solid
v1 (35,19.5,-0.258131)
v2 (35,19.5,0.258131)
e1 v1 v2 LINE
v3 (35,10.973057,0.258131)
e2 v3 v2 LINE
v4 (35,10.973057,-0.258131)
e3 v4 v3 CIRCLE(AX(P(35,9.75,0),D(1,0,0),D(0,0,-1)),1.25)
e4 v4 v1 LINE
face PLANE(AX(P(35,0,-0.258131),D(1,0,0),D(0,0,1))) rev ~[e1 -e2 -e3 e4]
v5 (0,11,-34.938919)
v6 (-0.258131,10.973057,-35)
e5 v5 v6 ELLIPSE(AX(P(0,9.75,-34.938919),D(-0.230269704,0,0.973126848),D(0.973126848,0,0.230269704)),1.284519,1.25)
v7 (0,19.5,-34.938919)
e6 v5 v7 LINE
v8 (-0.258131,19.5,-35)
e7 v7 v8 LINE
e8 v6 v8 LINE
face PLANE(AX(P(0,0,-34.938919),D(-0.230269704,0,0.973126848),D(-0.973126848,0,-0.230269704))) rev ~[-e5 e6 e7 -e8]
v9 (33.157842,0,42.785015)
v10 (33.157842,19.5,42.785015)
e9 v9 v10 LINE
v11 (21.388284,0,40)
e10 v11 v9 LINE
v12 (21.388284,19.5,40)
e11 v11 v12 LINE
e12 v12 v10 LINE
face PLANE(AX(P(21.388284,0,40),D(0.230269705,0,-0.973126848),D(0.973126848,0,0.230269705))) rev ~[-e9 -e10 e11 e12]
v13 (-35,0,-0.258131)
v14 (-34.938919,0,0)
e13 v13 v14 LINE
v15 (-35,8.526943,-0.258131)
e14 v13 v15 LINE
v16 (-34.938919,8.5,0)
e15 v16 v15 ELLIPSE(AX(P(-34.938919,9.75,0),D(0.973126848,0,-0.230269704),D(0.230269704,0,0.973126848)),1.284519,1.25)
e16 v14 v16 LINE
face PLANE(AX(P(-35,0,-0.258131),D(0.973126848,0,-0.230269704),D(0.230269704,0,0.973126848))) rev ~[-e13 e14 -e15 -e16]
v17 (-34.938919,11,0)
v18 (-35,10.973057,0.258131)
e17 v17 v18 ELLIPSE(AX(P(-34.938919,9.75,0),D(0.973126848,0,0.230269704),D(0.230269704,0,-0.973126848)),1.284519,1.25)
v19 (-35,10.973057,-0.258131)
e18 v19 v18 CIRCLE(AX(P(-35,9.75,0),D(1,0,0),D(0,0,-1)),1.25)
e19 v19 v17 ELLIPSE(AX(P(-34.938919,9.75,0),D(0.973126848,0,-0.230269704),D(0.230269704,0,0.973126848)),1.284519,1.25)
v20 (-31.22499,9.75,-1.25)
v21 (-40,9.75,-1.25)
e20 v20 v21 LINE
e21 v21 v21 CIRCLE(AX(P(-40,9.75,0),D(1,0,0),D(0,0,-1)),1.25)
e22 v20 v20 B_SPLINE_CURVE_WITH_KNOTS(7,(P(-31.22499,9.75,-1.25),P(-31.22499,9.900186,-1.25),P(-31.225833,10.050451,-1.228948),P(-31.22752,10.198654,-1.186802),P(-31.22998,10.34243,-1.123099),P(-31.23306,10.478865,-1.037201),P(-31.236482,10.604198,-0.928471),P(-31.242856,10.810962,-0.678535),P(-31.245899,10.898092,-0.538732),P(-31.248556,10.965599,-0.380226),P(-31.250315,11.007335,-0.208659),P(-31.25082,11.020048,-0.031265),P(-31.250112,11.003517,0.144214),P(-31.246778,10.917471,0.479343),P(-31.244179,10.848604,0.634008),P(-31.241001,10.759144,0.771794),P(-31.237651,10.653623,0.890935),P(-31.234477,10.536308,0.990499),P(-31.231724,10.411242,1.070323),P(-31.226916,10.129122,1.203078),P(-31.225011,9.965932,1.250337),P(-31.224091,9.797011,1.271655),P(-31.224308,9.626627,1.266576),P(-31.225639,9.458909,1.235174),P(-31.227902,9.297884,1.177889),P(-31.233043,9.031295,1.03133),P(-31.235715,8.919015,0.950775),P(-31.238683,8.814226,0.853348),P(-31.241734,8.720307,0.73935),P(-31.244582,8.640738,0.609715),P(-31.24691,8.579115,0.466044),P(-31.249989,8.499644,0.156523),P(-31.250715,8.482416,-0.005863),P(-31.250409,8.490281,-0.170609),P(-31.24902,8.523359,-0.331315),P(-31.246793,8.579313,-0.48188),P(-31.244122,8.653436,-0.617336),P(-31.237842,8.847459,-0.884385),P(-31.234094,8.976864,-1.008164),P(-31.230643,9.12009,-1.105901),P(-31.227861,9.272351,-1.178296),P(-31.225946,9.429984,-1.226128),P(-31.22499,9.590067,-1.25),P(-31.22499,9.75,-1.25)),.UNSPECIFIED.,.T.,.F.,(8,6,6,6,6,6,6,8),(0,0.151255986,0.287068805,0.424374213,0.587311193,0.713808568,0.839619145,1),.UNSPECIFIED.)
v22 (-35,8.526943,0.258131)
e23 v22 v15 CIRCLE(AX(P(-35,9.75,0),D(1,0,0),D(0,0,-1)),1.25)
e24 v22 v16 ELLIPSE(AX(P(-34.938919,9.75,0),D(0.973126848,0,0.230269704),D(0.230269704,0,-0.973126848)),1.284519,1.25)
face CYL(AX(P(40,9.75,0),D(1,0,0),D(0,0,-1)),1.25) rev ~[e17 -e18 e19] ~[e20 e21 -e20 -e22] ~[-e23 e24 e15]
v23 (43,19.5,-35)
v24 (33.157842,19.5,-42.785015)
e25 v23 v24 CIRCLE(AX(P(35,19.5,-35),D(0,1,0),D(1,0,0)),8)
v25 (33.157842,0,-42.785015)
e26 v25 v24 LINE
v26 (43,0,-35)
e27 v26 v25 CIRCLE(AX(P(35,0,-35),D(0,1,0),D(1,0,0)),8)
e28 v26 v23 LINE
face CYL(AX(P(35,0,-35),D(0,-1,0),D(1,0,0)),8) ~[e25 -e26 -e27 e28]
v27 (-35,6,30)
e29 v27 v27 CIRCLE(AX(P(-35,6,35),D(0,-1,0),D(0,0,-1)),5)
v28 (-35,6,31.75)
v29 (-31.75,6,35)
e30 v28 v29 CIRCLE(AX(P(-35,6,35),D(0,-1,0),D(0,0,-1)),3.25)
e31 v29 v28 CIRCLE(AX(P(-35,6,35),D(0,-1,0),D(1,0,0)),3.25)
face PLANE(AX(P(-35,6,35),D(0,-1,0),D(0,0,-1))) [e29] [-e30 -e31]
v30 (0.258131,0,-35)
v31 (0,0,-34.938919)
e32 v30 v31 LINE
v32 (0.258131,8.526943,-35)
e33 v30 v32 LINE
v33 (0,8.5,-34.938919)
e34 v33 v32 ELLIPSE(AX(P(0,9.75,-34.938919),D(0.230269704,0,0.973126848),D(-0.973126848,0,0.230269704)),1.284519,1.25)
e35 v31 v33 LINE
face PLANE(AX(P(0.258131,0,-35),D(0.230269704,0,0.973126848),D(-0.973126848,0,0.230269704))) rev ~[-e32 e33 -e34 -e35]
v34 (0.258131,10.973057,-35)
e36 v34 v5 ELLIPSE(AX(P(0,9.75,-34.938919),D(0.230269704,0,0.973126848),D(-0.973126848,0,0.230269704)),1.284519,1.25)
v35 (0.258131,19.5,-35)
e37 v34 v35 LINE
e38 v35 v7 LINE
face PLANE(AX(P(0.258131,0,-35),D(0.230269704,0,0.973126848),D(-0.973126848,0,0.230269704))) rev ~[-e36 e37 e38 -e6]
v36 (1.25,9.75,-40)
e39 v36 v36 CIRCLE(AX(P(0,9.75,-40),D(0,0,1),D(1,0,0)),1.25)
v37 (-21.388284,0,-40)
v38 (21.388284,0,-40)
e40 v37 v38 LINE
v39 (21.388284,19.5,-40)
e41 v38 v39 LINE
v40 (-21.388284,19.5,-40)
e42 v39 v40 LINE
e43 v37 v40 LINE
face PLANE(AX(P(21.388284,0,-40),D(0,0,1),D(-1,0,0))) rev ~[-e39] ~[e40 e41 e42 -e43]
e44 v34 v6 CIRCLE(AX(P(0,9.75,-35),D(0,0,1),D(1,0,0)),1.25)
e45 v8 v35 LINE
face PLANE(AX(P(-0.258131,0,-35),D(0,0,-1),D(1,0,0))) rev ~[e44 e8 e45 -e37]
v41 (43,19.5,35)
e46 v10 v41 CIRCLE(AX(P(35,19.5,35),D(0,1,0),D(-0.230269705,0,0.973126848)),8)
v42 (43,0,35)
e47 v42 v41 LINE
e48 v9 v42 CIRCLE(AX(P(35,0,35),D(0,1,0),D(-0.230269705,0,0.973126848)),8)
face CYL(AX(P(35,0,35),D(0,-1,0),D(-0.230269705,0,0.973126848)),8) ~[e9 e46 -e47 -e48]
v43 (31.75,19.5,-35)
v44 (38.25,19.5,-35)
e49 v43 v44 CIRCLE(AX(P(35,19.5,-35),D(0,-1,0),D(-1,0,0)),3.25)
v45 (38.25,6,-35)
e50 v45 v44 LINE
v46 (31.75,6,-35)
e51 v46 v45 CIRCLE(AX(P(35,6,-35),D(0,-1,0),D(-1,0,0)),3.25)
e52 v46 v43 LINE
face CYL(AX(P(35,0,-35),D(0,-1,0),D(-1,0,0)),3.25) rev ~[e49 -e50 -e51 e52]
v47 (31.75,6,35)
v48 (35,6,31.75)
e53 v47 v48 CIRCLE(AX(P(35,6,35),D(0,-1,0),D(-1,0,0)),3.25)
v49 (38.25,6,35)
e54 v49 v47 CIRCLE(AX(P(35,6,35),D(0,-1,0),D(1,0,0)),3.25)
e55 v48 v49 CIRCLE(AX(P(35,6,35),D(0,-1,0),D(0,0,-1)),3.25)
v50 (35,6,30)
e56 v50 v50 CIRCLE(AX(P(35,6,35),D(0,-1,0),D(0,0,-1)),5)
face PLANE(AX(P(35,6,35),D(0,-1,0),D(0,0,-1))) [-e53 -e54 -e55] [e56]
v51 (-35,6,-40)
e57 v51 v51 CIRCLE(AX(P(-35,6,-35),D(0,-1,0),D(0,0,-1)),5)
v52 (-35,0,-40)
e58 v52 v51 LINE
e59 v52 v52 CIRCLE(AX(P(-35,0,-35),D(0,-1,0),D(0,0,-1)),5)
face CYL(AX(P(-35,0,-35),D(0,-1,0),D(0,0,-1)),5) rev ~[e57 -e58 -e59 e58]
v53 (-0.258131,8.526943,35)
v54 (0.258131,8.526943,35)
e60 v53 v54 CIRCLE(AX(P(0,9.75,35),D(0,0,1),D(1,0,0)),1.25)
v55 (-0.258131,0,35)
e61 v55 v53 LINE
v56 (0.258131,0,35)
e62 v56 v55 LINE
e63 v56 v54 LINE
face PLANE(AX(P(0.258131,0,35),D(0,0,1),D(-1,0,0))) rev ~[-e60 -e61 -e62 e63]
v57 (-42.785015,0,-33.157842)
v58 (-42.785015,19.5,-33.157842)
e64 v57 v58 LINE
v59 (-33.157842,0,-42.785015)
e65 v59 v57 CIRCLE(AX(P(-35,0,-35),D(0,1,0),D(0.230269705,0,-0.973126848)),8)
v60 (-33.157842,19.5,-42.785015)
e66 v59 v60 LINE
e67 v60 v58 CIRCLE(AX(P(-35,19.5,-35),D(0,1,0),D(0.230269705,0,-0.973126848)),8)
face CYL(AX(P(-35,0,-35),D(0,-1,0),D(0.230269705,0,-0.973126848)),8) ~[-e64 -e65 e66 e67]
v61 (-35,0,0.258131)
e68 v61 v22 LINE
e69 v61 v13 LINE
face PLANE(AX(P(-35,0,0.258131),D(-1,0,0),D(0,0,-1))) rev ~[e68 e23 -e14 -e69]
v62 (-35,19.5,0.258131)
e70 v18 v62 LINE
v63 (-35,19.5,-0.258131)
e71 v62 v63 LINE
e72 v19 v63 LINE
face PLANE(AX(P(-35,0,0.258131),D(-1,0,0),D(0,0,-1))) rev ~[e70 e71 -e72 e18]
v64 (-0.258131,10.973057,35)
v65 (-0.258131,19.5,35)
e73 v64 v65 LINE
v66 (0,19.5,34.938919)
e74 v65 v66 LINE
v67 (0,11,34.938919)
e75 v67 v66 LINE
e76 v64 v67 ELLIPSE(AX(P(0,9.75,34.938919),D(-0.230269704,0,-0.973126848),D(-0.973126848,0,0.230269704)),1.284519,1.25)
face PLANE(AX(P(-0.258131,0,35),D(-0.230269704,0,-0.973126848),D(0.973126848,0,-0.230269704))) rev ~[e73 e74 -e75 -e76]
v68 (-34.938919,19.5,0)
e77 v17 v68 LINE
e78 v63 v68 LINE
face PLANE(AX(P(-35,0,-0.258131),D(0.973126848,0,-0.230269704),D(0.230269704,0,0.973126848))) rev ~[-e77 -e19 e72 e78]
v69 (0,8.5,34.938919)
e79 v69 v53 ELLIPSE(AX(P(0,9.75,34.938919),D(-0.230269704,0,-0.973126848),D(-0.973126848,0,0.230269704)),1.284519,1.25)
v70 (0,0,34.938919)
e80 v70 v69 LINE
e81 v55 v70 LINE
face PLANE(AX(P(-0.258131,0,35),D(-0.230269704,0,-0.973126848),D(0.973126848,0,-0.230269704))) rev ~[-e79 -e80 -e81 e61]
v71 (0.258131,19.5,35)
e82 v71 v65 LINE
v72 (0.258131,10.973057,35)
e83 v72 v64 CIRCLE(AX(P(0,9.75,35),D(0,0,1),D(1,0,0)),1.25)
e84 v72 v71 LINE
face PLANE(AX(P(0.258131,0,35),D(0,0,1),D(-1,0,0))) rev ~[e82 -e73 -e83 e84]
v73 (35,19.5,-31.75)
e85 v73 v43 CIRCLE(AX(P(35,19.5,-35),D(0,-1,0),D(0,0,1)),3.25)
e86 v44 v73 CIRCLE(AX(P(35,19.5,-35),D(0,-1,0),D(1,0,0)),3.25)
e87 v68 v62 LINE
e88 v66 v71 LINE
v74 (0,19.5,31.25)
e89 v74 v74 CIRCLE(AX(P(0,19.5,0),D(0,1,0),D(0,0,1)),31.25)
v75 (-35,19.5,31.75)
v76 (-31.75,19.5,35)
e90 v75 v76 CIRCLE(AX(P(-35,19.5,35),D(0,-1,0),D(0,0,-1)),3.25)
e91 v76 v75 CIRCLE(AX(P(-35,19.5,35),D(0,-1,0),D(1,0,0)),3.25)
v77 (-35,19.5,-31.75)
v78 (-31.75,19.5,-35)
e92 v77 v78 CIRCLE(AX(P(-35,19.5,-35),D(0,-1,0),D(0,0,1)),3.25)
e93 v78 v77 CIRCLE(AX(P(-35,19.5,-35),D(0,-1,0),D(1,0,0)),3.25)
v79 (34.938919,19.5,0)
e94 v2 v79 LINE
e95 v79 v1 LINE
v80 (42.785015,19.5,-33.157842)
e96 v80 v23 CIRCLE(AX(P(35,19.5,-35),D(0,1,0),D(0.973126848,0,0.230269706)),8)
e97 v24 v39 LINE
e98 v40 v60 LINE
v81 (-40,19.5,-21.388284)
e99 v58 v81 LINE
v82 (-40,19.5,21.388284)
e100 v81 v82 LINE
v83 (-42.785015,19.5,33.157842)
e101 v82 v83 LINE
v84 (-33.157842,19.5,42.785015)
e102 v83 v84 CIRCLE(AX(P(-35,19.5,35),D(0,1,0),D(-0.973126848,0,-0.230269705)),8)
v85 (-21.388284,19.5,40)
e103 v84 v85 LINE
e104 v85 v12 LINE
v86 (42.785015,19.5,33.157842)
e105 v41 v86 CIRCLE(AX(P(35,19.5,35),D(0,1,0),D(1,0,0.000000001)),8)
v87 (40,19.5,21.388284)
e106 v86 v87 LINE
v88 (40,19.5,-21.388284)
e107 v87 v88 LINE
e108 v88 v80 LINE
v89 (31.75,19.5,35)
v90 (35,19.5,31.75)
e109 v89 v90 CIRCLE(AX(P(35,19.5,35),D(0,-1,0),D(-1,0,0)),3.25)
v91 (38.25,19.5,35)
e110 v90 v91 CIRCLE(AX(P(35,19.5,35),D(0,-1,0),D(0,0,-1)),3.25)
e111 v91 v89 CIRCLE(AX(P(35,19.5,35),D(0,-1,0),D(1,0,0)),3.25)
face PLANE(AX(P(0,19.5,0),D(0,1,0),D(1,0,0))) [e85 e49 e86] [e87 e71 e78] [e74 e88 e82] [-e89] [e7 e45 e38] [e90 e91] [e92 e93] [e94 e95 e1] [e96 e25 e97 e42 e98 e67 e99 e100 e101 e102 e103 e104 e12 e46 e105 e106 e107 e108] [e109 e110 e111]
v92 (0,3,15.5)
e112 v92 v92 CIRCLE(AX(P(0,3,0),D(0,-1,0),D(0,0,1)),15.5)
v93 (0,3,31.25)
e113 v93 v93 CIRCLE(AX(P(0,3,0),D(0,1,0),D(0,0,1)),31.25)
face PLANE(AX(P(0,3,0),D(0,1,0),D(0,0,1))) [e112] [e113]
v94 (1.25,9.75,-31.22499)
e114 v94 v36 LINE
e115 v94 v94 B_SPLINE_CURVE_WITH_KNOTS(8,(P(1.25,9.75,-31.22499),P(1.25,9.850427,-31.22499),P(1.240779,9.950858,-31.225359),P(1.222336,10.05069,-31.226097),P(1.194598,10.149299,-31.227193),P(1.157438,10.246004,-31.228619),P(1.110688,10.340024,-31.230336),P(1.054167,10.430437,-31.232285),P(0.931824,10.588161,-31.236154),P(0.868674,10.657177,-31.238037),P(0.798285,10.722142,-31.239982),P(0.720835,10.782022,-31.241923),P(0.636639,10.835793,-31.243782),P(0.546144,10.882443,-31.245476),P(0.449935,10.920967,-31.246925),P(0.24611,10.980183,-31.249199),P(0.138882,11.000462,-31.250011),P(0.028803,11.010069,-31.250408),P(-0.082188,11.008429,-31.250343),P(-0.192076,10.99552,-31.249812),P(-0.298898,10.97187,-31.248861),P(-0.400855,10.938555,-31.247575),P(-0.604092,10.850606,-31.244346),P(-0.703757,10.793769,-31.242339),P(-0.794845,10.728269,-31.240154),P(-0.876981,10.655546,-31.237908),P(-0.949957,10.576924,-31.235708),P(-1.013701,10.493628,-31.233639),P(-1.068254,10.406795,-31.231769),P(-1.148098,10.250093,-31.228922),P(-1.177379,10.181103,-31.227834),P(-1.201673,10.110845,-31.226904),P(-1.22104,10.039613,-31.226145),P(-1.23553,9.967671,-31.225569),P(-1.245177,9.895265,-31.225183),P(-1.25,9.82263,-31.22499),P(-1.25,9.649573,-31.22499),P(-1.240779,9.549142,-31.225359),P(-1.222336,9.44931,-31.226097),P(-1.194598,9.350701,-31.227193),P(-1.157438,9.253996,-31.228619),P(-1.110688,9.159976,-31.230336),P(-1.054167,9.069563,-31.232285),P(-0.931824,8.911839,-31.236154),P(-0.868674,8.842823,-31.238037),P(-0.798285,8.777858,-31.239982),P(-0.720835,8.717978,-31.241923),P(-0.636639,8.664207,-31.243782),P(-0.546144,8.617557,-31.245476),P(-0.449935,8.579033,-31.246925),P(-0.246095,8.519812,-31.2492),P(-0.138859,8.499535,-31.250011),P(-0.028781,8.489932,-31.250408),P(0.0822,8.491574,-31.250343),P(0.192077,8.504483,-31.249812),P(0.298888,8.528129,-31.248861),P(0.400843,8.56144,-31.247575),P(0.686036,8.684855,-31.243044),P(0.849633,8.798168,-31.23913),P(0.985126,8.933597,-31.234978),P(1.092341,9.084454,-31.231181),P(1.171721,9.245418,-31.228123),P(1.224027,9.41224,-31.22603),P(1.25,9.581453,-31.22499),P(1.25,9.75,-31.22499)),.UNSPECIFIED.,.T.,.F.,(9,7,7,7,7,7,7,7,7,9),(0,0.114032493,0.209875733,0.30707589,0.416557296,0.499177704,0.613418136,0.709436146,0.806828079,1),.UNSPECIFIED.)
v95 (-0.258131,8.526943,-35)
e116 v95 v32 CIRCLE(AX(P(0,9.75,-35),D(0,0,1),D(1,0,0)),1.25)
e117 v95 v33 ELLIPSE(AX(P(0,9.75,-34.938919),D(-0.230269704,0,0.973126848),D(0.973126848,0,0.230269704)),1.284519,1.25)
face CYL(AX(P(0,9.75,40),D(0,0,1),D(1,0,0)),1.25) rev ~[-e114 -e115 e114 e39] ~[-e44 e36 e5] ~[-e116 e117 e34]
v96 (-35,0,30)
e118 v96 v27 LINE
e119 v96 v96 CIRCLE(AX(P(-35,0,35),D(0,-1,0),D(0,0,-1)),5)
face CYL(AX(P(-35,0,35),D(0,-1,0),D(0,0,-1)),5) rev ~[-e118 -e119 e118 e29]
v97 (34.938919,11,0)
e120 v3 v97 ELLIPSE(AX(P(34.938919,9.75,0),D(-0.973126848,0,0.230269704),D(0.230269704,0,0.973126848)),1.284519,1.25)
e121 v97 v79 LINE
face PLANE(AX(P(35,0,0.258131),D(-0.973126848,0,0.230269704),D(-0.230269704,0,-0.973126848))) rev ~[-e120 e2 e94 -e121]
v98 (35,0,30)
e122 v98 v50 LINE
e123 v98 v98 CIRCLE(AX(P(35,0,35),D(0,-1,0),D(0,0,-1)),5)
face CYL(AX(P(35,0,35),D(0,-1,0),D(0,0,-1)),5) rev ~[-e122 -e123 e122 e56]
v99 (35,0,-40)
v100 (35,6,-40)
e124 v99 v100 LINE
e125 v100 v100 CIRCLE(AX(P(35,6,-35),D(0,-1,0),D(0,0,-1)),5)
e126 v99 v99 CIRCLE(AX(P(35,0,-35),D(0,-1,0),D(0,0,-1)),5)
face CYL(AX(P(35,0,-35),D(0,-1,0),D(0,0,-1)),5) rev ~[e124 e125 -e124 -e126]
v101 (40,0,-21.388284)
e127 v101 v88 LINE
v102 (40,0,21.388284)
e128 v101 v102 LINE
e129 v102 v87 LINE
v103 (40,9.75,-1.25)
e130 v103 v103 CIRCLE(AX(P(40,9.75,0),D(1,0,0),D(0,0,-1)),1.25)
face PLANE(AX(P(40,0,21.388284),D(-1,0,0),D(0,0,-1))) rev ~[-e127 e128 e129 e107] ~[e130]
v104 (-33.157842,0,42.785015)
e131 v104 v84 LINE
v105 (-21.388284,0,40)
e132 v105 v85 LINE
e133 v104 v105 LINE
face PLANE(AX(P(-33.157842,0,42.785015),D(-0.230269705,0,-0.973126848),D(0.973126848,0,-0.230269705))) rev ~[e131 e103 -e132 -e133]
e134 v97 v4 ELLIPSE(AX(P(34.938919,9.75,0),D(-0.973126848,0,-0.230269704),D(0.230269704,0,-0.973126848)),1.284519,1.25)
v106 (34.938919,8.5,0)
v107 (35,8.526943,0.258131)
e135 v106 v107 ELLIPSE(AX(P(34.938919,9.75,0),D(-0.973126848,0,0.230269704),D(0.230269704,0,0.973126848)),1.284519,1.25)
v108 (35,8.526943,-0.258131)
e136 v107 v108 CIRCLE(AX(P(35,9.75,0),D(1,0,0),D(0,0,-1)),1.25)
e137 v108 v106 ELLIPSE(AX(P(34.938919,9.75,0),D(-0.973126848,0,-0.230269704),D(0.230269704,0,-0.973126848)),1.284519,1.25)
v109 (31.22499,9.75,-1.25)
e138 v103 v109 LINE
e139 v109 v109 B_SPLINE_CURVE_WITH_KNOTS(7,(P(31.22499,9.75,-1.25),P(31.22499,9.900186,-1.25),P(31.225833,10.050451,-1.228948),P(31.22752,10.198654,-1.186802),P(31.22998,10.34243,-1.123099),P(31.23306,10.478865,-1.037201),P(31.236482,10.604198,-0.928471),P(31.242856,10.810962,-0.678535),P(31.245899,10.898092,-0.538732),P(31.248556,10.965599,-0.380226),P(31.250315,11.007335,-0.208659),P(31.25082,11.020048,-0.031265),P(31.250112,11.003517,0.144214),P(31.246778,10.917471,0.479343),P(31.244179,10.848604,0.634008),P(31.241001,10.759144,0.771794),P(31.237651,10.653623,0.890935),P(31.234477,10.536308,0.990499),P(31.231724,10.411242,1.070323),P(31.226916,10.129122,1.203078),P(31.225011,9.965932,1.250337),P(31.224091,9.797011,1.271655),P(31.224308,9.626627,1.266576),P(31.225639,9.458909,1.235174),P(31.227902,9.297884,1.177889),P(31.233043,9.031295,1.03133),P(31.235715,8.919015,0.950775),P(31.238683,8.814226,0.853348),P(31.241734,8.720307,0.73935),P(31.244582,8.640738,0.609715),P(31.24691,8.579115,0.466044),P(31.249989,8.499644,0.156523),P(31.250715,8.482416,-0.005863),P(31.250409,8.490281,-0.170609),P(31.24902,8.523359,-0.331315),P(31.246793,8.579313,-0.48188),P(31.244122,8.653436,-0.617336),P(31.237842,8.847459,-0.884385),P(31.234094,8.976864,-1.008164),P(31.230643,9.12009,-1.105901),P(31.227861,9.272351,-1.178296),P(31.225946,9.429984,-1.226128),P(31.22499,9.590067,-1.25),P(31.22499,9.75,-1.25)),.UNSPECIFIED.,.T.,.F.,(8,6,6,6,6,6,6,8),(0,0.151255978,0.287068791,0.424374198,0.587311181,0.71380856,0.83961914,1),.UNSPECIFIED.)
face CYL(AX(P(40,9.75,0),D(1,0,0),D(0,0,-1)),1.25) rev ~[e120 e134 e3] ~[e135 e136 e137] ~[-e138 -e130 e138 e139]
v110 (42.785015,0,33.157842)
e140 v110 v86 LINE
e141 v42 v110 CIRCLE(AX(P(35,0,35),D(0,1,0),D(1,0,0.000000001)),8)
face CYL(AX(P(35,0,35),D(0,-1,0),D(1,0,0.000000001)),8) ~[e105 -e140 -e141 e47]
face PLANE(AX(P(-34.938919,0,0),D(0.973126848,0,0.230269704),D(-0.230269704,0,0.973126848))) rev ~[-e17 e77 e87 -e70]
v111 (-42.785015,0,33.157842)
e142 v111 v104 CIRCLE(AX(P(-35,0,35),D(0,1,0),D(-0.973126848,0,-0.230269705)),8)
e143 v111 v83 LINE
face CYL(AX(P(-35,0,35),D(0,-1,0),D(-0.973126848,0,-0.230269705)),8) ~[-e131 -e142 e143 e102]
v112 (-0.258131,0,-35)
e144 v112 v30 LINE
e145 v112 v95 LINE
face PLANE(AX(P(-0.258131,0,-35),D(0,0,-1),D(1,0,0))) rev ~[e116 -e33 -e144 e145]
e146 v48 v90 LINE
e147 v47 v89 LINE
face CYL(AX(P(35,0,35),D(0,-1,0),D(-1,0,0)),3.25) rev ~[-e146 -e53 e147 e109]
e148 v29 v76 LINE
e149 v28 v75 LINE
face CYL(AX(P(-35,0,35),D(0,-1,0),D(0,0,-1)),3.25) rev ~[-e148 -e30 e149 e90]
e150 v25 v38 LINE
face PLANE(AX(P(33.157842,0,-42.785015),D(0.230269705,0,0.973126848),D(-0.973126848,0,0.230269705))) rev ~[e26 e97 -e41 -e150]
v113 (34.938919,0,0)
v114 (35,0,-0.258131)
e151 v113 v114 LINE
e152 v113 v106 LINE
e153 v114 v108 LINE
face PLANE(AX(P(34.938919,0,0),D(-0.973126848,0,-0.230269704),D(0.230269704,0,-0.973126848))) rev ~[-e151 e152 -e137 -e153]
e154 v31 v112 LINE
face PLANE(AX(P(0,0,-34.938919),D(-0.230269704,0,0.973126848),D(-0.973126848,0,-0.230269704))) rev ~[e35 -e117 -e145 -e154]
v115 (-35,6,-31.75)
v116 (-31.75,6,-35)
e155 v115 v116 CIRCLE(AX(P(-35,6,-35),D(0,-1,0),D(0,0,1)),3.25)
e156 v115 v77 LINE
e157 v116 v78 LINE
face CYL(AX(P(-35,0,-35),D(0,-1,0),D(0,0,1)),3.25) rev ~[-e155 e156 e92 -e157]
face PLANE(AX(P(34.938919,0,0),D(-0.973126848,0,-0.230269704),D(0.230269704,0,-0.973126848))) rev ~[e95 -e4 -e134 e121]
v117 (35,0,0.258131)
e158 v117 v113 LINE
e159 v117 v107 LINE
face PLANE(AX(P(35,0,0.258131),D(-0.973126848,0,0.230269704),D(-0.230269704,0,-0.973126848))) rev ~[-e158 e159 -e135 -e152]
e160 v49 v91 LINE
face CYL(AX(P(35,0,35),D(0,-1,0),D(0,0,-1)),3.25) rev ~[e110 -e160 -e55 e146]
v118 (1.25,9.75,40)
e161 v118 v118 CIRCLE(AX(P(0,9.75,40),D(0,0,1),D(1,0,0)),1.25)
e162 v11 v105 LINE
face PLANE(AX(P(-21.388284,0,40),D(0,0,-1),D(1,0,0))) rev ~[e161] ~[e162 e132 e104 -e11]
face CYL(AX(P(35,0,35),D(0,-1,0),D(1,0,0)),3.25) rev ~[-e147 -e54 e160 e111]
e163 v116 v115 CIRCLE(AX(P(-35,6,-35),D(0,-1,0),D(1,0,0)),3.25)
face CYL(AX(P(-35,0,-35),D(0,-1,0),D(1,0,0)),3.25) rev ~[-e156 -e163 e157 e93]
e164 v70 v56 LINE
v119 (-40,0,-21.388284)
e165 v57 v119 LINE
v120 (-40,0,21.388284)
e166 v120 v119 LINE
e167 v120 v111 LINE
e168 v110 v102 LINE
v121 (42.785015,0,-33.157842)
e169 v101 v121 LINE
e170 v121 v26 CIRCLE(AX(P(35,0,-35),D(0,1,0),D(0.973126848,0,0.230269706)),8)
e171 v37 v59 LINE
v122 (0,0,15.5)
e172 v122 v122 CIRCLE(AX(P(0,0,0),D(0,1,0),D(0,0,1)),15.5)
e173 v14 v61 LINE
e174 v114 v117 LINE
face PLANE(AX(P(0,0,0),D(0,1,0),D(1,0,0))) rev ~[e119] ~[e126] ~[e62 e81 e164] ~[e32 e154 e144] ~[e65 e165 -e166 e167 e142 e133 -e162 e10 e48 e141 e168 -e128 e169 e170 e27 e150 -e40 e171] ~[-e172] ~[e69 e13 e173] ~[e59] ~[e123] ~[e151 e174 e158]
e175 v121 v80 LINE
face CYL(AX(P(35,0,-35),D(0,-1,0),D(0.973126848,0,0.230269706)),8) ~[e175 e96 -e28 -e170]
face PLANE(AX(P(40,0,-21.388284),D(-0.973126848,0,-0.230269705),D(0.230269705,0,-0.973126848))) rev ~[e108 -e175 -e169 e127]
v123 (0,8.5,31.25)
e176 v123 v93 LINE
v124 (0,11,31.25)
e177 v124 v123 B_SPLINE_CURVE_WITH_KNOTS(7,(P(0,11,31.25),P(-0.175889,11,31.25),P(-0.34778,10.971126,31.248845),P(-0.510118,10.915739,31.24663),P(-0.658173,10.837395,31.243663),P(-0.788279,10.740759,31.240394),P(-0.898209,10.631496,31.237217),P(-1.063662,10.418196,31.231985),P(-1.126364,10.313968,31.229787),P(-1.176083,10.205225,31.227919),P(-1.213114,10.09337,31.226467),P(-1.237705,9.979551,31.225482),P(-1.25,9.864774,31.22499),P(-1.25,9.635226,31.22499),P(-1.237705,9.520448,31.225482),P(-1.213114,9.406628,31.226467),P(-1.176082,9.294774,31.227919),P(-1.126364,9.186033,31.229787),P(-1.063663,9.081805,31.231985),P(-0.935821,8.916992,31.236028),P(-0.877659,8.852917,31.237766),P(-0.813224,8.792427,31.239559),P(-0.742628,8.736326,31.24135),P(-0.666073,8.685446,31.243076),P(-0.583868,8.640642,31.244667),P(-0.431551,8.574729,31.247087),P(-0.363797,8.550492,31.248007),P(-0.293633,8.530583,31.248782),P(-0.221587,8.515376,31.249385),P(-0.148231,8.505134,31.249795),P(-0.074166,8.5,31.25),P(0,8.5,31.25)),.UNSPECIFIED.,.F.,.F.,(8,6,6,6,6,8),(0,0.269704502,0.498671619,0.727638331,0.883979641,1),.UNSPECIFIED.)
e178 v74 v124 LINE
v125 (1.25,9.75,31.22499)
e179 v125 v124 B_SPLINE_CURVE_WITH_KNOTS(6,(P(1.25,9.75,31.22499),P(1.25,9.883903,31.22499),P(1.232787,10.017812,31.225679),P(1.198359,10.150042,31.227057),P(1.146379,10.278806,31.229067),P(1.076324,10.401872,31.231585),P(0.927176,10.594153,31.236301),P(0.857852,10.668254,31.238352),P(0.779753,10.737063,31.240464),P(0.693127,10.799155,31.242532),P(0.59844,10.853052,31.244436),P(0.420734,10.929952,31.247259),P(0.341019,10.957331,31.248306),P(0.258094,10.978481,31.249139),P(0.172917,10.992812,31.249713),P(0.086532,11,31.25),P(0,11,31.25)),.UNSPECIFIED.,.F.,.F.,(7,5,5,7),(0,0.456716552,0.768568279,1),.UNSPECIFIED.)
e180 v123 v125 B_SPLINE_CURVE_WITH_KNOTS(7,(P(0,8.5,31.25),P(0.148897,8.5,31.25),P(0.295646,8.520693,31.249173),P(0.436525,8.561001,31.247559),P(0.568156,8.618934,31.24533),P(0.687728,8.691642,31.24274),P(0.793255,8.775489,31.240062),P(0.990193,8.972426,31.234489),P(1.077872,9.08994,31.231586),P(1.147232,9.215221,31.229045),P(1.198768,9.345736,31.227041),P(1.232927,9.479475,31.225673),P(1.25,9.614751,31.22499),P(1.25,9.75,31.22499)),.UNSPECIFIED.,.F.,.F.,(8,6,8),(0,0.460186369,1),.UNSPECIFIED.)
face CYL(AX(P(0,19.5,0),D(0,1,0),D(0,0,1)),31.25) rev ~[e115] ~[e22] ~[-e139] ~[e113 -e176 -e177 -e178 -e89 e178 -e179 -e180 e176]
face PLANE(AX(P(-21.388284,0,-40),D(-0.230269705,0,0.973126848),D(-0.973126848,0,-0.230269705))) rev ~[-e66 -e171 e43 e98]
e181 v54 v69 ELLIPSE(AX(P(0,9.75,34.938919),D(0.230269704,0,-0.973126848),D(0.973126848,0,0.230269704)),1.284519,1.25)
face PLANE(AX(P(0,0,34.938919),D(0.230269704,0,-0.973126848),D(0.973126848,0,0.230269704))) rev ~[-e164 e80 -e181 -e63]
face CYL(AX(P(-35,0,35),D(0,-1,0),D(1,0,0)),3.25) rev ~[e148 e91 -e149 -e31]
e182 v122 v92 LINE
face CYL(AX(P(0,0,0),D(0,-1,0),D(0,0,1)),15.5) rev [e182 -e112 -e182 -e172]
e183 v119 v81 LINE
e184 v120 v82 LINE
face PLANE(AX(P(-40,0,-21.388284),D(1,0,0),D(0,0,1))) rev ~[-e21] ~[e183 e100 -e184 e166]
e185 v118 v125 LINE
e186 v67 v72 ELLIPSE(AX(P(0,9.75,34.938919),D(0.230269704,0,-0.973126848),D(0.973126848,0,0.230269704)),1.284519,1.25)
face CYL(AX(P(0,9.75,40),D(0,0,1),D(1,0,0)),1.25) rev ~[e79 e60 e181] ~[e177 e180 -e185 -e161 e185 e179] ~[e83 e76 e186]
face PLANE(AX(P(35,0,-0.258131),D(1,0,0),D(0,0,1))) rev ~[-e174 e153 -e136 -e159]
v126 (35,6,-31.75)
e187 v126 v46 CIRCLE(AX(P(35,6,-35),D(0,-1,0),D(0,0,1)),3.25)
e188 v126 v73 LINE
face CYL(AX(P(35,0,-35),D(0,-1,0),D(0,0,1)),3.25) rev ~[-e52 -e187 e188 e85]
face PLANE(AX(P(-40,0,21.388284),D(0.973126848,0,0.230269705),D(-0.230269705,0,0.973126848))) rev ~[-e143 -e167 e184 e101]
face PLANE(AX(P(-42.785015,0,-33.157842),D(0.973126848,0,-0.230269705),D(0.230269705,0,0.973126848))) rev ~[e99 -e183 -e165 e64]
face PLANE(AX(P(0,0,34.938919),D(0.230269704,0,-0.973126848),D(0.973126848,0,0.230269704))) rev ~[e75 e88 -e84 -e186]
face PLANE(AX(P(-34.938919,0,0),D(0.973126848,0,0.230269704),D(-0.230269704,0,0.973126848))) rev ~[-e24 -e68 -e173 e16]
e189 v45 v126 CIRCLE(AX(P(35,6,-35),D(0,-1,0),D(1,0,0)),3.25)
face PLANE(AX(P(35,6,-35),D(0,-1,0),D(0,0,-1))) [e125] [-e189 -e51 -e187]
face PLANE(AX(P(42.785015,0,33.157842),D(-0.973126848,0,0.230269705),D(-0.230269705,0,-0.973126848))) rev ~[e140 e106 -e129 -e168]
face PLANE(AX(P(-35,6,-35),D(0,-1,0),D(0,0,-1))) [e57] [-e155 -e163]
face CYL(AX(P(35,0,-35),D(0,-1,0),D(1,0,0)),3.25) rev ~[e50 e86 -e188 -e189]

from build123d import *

# Parameters (mm, degrees)
SKETCH1_R           = 34
SKETCH1_R_2         = 15.5
BOSS_EXTRUDE1_DEPTH = 19.5
SKETCH2_R           = 31.25
CUT_EXTRUDE1_DEPTH  = 16.5
SKETCH3_R           = 5
CUT_EXTRUDE2_DEPTH  = 6
CUT_EXTRUDE3_REACH  = 97.49
SKETCH4_R           = 1.25
CUT_EXTRUDE4_REACH  = 97.49
SKETCH5_R           = 1.25


with BuildPart() as part:
    # Sketch1 → Boss-Extrude1 (new body)
    # profile 1 of 61: a face of its own
    with BuildSketch(Plane(origin=(0, 0, 0), x_dir=(1, 0, 0), z_dir=(0, 1, 0))):
        with BuildLine():
            ThreePointArc((-33.157842357, 42.785014786), (-40.656854249, 40.656854249), (-42.785014786, 33.157842357))
            ThreePointArc((-42.785014786, 33.157842357), (-41.760946795, 30.723365993), (-40, 28.755002002))
            Line((-40, 28.755002002), (-40, 40))
            Line((-40, 40), (-28.755002002, 40))
            ThreePointArc((-28.755002002, 40), (-30.723365993, 41.760946795), (-33.157842357, 42.785014786))
        make_face()
    # profile 2 of 61: a face of its own
    with BuildSketch(Plane(origin=(0, 0, 0), x_dir=(1, 0, 0), z_dir=(0, 1, 0))):
        with BuildLine():
            ThreePointArc((-40, 28.755002002), (-37.649529771, 27.451490744), (-35, 27))
            Line((-35, 27), (-35, 31.75))
            ThreePointArc((-35, 31.75), (-37.298097039, 37.298097039), (-31.75, 35))
            Line((-31.75, 35), (-27, 35))
            ThreePointArc((-27, 35), (-27.451490744, 37.649529771), (-28.755002002, 40))
            Line((-28.755002002, 40), (-40, 40))
            Line((-40, 40), (-40, 28.755002002))
        make_face()
    # profile 3 of 61: a face of its own
    with BuildSketch(Plane(origin=(0, 0, 0), x_dir=(1, 0, 0), z_dir=(0, 1, 0))):
        with BuildLine():
            Line((-35, 31.75), (-35, 27))
            ThreePointArc((-35, 27), (-29.343145751, 29.343145751), (-27, 35))
            Line((-27, 35), (-31.75, 35))
            ThreePointArc((-31.75, 35), (-32.701902961, 32.701902961), (-35, 31.75))
        make_face()
    # profile 4 of 61: a face of its own
    with BuildSketch(Plane(origin=(0, 0, 0), x_dir=(1, 0, 0), z_dir=(0, 1, 0))):
        with BuildLine():
            Line((-42.785014786, 33.157842357), (-40, 21.388284323))
            Line((-40, 21.388284323), (-40, 28.755002002))
            ThreePointArc((-40, 28.755002002), (-41.760946795, 30.723365993), (-42.785014786, 33.157842357))
        make_face()
    # profile 5 of 61: a face of its own
    with BuildSketch(Plane(origin=(0, 0, 0), x_dir=(1, 0, 0), z_dir=(0, 1, 0))):
        with BuildLine():
            ThreePointArc((-37.938396612, 12.675885078), (-36.622236567, 16.087628439), (-35, 19.364916731))
            Line((-35, 19.364916731), (-35, 27))
            ThreePointArc((-35, 27), (-37.649529771, 27.451490744), (-40, 28.755002002))
            Line((-40, 28.755002002), (-40, 21.388284323))
            Line((-40, 21.388284323), (-37.938396612, 12.675885078))
        make_face()
    # profile 6 of 61: a face of its own
    with BuildSketch(Plane(origin=(0, 0, 0), x_dir=(1, 0, 0), z_dir=(0, 1, 0))):
        with BuildLine():
            Line((-40, 21.388284323), (-40, 0))
            ThreePointArc((-40, 0), (-39.481235191, 6.421220115), (-37.938396612, 12.675885078))
            Line((-37.938396612, 12.675885078), (-40, 21.388284323))
        make_face()
    # profile 7 of 61: a face of its own
    with BuildSketch(Plane(origin=(0, 0, 0), x_dir=(1, 0, 0), z_dir=(0, 1, 0))):
        with BuildLine():
            Line((-37.938396612, 12.675885078), (-35, 0.258130737))
            Line((-35, 0.258130737), (-35, 19.364916731))
            ThreePointArc((-35, 19.364916731), (-36.622236567, 16.087628439), (-37.938396612, 12.675885078))
        make_face()
    # profile 8 of 61: a face of its own
    with BuildSketch(Plane(origin=(0, 0, 0), x_dir=(1, 0, 0), z_dir=(0, 1, 0))):
        with BuildLine():
            Line((-37.938396612, -12.675885078), (-35, -0.258130737))
            Line((-35, -0.258130737), (-35, 0.258130737))
            Line((-35, 0.258130737), (-37.938396612, 12.675885078))
            ThreePointArc((-37.938396612, 12.675885078), (-39.481235191, 6.421220115), (-40, 0))
            ThreePointArc((-40, 0), (-39.481235191, -6.421220115), (-37.938396612, -12.675885078))
        make_face()
    # profile 9 of 61: a face of its own
    with BuildSketch(Plane(origin=(0, 0, 0), x_dir=(1, 0, 0), z_dir=(0, 1, 0))):
        with BuildLine():
            Line((-40, -21.388284323), (-37.938396612, -12.675885078))
            ThreePointArc((-37.938396612, -12.675885078), (-39.481235191, -6.421220115), (-40, 0))
            Line((-40, 0), (-40, -21.388284323))
        make_face()
    # profile 10 of 61: a face of its own
    with BuildSketch(Plane(origin=(0, 0, 0), x_dir=(1, 0, 0), z_dir=(0, 1, 0))):
        with BuildLine():
            ThreePointArc((-37.938396612, -12.675885078), (-36.622236567, -16.087628439), (-35, -19.364916731))
            Line((-35, -19.364916731), (-35, -0.258130737))
            Line((-35, -0.258130737), (-37.938396612, -12.675885078))
        make_face()
    # profile 11 of 61: a face of its own
    with BuildSketch(Plane(origin=(0, 0, 0), x_dir=(1, 0, 0), z_dir=(0, 1, 0))):
        with BuildLine():
            ThreePointArc((-40, -28.755002002), (-37.649529771, -27.451490744), (-35, -27))
            Line((-35, -27), (-35, -19.364916731))
            ThreePointArc((-35, -19.364916731), (-36.622236567, -16.087628439), (-37.938396612, -12.675885078))
            Line((-37.938396612, -12.675885078), (-40, -21.388284323))
            Line((-40, -21.388284323), (-40, -28.755002002))
        make_face()
    # profile 12 of 61: a face of its own
    with BuildSketch(Plane(origin=(0, 0, 0), x_dir=(1, 0, 0), z_dir=(0, 1, 0))):
        with BuildLine():
            ThreePointArc((-42.785014786, -33.157842357), (-41.760946795, -30.723365993), (-40, -28.755002002))
            Line((-40, -28.755002002), (-40, -21.388284323))
            Line((-40, -21.388284323), (-42.785014786, -33.157842357))
        make_face()
    # profile 13 of 61: a face of its own
    with BuildSketch(Plane(origin=(0, 0, 0), x_dir=(1, 0, 0), z_dir=(0, 1, 0))):
        with BuildLine():
            ThreePointArc((-33.157842357, -42.785014786), (-30.723365993, -41.760946795), (-28.755002002, -40))
            Line((-28.755002002, -40), (-40, -40))
            Line((-40, -40), (-40, -28.755002002))
            ThreePointArc((-40, -28.755002002), (-41.760946795, -30.723365993), (-42.785014786, -33.157842357))
            ThreePointArc((-42.785014786, -33.157842357), (-40.656854249, -40.656854249), (-33.157842357, -42.785014786))
        make_face()
    # profile 14 of 61: a face of its own
    with BuildSketch(Plane(origin=(0, 0, 0), x_dir=(1, 0, 0), z_dir=(0, 1, 0))):
        with BuildLine():
            ThreePointArc((-28.755002002, -40), (-27.451490744, -37.649529771), (-27, -35))
            Line((-27, -35), (-31.75, -35))
            ThreePointArc((-31.75, -35), (-37.298097039, -37.298097039), (-35, -31.75))
            Line((-35, -31.75), (-35, -27))
            ThreePointArc((-35, -27), (-37.649529771, -27.451490744), (-40, -28.755002002))
            Line((-40, -28.755002002), (-40, -40))
            Line((-40, -40), (-28.755002002, -40))
        make_face()
    # profile 15 of 61: a face of its own
    with BuildSketch(Plane(origin=(0, 0, 0), x_dir=(1, 0, 0), z_dir=(0, 1, 0))):
        with BuildLine():
            Line((-31.75, -35), (-27, -35))
            ThreePointArc((-27, -35), (-29.343145751, -29.343145751), (-35, -27))
            Line((-35, -27), (-35, -31.75))
            ThreePointArc((-35, -31.75), (-32.701902961, -32.701902961), (-31.75, -35))
        make_face()
    # profile 16 of 61: a face of its own
    with BuildSketch(Plane(origin=(0, 0, 0), x_dir=(1, 0, 0), z_dir=(0, 1, 0))):
        with BuildLine():
            ThreePointArc((-35, -27), (-29.343145751, -29.343145751), (-27, -35))
            Line((-27, -35), (-19.364916731, -35))
            ThreePointArc((-19.364916731, -35), (-28.284271247, -28.284271247), (-35, -19.364916731))
            Line((-35, -19.364916731), (-35, -27))
        make_face()
    # profile 17 of 61: a face of its own
    with BuildSketch(Plane(origin=(0, 0, 0), x_dir=(1, 0, 0), z_dir=(0, 1, 0))):
        with BuildLine():
            ThreePointArc((-35, -19.364916731), (-28.284271247, -28.284271247), (-19.364916731, -35))
            Line((-19.364916731, -35), (-0.258130737, -35))
            Line((-0.258130737, -35), (0, -34.938918869))
            Line((0, -34.938918869), (-7.829169983, -33.08631284))
            ThreePointArc((-7.829169983, -33.08631284), (-24.04163056, -24.04163056), (-33.08631284, -7.829169983))
            Line((-33.08631284, -7.829169983), (-34.938918869, 0))
            Line((-34.938918869, 0), (-35, -0.258130737))
            Line((-35, -0.258130737), (-35, -19.364916731))
        make_face()
    # profile 18 of 61: a face of its own
    with BuildSketch(Plane(origin=(0, 0, 0), x_dir=(1, 0, 0), z_dir=(0, 1, 0))):
        with BuildLine():
            Line((-35, 19.364916731), (-35, 0.258130737))
            Line((-35, 0.258130737), (-34.938918869, 0))
            Line((-34.938918869, 0), (-33.08631284, 7.829169983))
            ThreePointArc((-33.08631284, 7.829169983), (-24.04163056, 24.04163056), (-7.829169983, 33.08631284))
            Line((-7.829169983, 33.08631284), (0, 34.938918869))
            Line((0, 34.938918869), (-0.258130737, 35))
            Line((-0.258130737, 35), (-19.364916731, 35))
            ThreePointArc((-19.364916731, 35), (-28.284271247, 28.284271247), (-35, 19.364916731))
        make_face()
    # profile 19 of 61: a face of its own
    with BuildSketch(Plane(origin=(0, 0, 0), x_dir=(1, 0, 0), z_dir=(0, 1, 0))):
        with BuildLine():
            Line((-33.08631284, 7.829169983), (-34.938918869, 0))
            Line((-34.938918869, 0), (-33.08631284, -7.829169983))
            ThreePointArc((-33.08631284, -7.829169983), (-34, 0), (-33.08631284, 7.829169983))
        make_face()
    # profile 20 of 61: a face of its own
    with BuildSketch(Plane(origin=(0, 0, 0), x_dir=(1, 0, 0), z_dir=(0, 1, 0))):
        with BuildLine():
            Line((-35, 27), (-35, 19.364916731))
            ThreePointArc((-35, 19.364916731), (-28.284271247, 28.284271247), (-19.364916731, 35))
            Line((-19.364916731, 35), (-27, 35))
            ThreePointArc((-27, 35), (-29.343145751, 29.343145751), (-35, 27))
        make_face()
    # profile 21 of 61: a face of its own
    with BuildSketch(Plane(origin=(0, 0, 0), x_dir=(1, 0, 0), z_dir=(0, 1, 0))):
        with BuildLine():
            Line((-27, 35), (-19.364916731, 35))
            ThreePointArc((-19.364916731, 35), (-16.087628439, 36.622236567), (-12.675885078, 37.938396612))
            Line((-12.675885078, 37.938396612), (-21.388284323, 40))
            Line((-21.388284323, 40), (-28.755002002, 40))
            ThreePointArc((-28.755002002, 40), (-27.451490744, 37.649529771), (-27, 35))
        make_face()
    # profile 22 of 61: a face of its own
    with BuildSketch(Plane(origin=(0, 0, 0), x_dir=(1, 0, 0), z_dir=(0, 1, 0))):
        with BuildLine():
            Line((-21.388284323, 40), (-33.157842357, 42.785014786))
            ThreePointArc((-33.157842357, 42.785014786), (-30.723365993, 41.760946795), (-28.755002002, 40))
            Line((-28.755002002, 40), (-21.388284323, 40))
        make_face()
    # profile 23 of 61: a face of its own
    with BuildSketch(Plane(origin=(0, 0, 0), x_dir=(1, 0, 0), z_dir=(0, 1, 0))):
        with BuildLine():
            Line((-21.388284323, 40), (-12.675885078, 37.938396612))
            ThreePointArc((-12.675885078, 37.938396612), (-6.421220184, 39.48123518), (-1.4e-07, 40))
            Line((-1.4e-07, 40), (-21.388284323, 40))
        make_face()
    # profile 24 of 61: a face of its own
    with BuildSketch(Plane(origin=(0, 0, 0), x_dir=(1, 0, 0), z_dir=(0, 1, 0))):
        with BuildLine():
            ThreePointArc((-12.675885078, 37.938396612), (-16.087628439, 36.622236567), (-19.364916731, 35))
            Line((-19.364916731, 35), (-0.258130737, 35))
            Line((-0.258130737, 35), (-12.675885078, 37.938396612))
        make_face()
    # profile 25 of 61: a face of its own
    with BuildSketch(Plane(origin=(0, 0, 0), x_dir=(1, 0, 0), z_dir=(0, 1, 0))):
        with BuildLine():
            Line((-12.675885078, 37.938396612), (-0.258130737, 35))
            Line((-0.258130737, 35), (0.258130737, 35))
            Line((0.258130737, 35), (12.675885078, 37.938396612))
            ThreePointArc((12.675885078, 37.938396612), (6.421220046, 39.481235203), (-1.4e-07, 40))
            ThreePointArc((-1.4e-07, 40), (-6.421220184, 39.48123518), (-12.675885078, 37.938396612))
        make_face()
    # profile 26 of 61: a face of its own
    with BuildSketch(Plane(origin=(0, 0, 0), x_dir=(1, 0, 0), z_dir=(0, 1, 0))):
        with BuildLine():
            Line((0, 34.938918869), (-7.829169983, 33.08631284))
            ThreePointArc((-7.829169983, 33.08631284), (0, 34), (7.829169983, 33.08631284))
            Line((7.829169983, 33.08631284), (0, 34.938918869))
        make_face()
    # profile 27 of 61: a face of its own
    with BuildSketch(Plane(origin=(0, 0, 0), x_dir=(1, 0, 0), z_dir=(0, 1, 0))):
        with BuildLine():
            Line((12.675885078, 37.938396612), (0.258130737, 35))
            Line((0.258130737, 35), (19.364916731, 35))
            ThreePointArc((19.364916731, 35), (16.087628439, 36.622236567), (12.675885078, 37.938396612))
        make_face()
    # profile 28 of 61: a face of its own
    with BuildSketch(Plane(origin=(0, 0, 0), x_dir=(1, 0, 0), z_dir=(0, 1, 0))):
        with BuildLine():
            Line((33.08631284, 7.829169983), (34.938918869, 0))
            Line((34.938918869, 0), (35, 0.258130737))
            Line((35, 0.258130737), (35, 19.364916731))
            ThreePointArc((35, 19.364916731), (28.284271247, 28.284271247), (19.364916731, 35))
            Line((19.364916731, 35), (0.258130737, 35))
            Line((0.258130737, 35), (0, 34.938918869))
            Line((0, 34.938918869), (7.829169983, 33.08631284))
            ThreePointArc((7.829169983, 33.08631284), (24.04163056, 24.04163056), (33.08631284, 7.829169983))
        make_face()
    # profile 29 of 61: a face of its own
    with BuildSketch(Plane(origin=(0, 0, 0), x_dir=(1, 0, 0), z_dir=(0, 1, 0))):
        with BuildLine():
            ThreePointArc((12.675885078, 37.938396612), (16.087628439, 36.622236567), (19.364916731, 35))
            Line((19.364916731, 35), (27, 35))
            ThreePointArc((27, 35), (27.451490744, 37.649529771), (28.755002002, 40))
            Line((28.755002002, 40), (21.388284323, 40))
            Line((21.388284323, 40), (12.675885078, 37.938396612))
        make_face()
    # profile 30 of 61: a face of its own
    with BuildSketch(Plane(origin=(0, 0, 0), x_dir=(1, 0, 0), z_dir=(0, 1, 0))):
        with BuildLine():
            Line((21.388284323, 40), (-1.4e-07, 40))
            ThreePointArc((-1.4e-07, 40), (6.421220046, 39.481235203), (12.675885078, 37.938396612))
            Line((12.675885078, 37.938396612), (21.388284323, 40))
        make_face()
    # profile 31 of 61: a face of its own
    with BuildSketch(Plane(origin=(0, 0, 0), x_dir=(1, 0, 0), z_dir=(0, 1, 0))):
        with BuildLine():
            Line((33.157842357, 42.785014786), (21.388284323, 40))
            Line((21.388284323, 40), (28.755002002, 40))
            ThreePointArc((28.755002002, 40), (30.723365993, 41.760946795), (33.157842357, 42.785014786))
        make_face()
    # profile 32 of 61: a face of its own
    with BuildSketch(Plane(origin=(0, 0, 0), x_dir=(1, 0, 0), z_dir=(0, 1, 0))):
        with BuildLine():
            ThreePointArc((19.364916731, 35), (28.284271247, 28.284271247), (35, 19.364916731))
            Line((35, 19.364916731), (35, 27))
            ThreePointArc((35, 27), (29.343145751, 29.343145751), (27, 35))
            Line((27, 35), (19.364916731, 35))
        make_face()
    # profile 33 of 61: a face of its own
    with BuildSketch(Plane(origin=(0, 0, 0), x_dir=(1, 0, 0), z_dir=(0, 1, 0))):
        with BuildLine():
            ThreePointArc((27, 35), (29.343145751, 29.343145751), (35, 27))
            Line((35, 27), (35, 31.75))
            ThreePointArc((35, 31.75), (32.701902961, 32.701902961), (31.75, 35))
            Line((31.75, 35), (27, 35))
        make_face()
    # profile 34 of 61: a face of its own
    with BuildSketch(Plane(origin=(0, 0, 0), x_dir=(1, 0, 0), z_dir=(0, 1, 0))):
        with BuildLine():
            Line((35, 31.75), (35, 27))
            ThreePointArc((35, 27), (37.649529771, 27.451490744), (40, 28.755002002))
            Line((40, 28.755002002), (40, 40))
            Line((40, 40), (28.755002002, 40))
            ThreePointArc((28.755002002, 40), (27.451490744, 37.649529771), (27, 35))
            Line((27, 35), (31.75, 35))
            ThreePointArc((31.75, 35), (35, 38.25), (38.25, 35))
            ThreePointArc((38.25, 35), (37.298097039, 32.701902961), (35, 31.75))
        make_face()
    # profile 35 of 61: a face of its own
    with BuildSketch(Plane(origin=(0, 0, 0), x_dir=(1, 0, 0), z_dir=(0, 1, 0))):
        with BuildLine():
            ThreePointArc((40, 28.755002002), (41.760946795, 30.723365993), (42.785014786, 33.157842357))
            ThreePointArc((42.785014786, 33.157842357), (42.946071932, 34.072670039), (43, 35))
            ThreePointArc((43, 35), (39.963000043, 41.27444265), (33.157842357, 42.785014786))
            ThreePointArc((33.157842357, 42.785014786), (30.723365993, 41.760946795), (28.755002002, 40))
            Line((28.755002002, 40), (40, 40))
            Line((40, 40), (40, 28.755002002))
        make_face()
    # profile 36 of 61: a face of its own
    with BuildSketch(Plane(origin=(0, 0, 0), x_dir=(1, 0, 0), z_dir=(0, 1, 0))):
        with BuildLine():
            Line((40, 28.755002002), (40, 21.388284323))
            Line((40, 21.388284323), (42.785014786, 33.157842357))
            ThreePointArc((42.785014786, 33.157842357), (41.760946795, 30.723365993), (40, 28.755002002))
        make_face()
    # profile 37 of 61: a face of its own
    with BuildSketch(Plane(origin=(0, 0, 0), x_dir=(1, 0, 0), z_dir=(0, 1, 0))):
        with BuildLine():
            Line((35, 27), (35, 19.364916731))
            ThreePointArc((35, 19.364916731), (36.622236567, 16.087628439), (37.938396612, 12.675885078))
            Line((37.938396612, 12.675885078), (40, 21.388284323))
            Line((40, 21.388284323), (40, 28.755002002))
            ThreePointArc((40, 28.755002002), (37.649529771, 27.451490744), (35, 27))
        make_face()
    # profile 38 of 61: a face of its own
    with BuildSketch(Plane(origin=(0, 0, 0), x_dir=(1, 0, 0), z_dir=(0, 1, 0))):
        with BuildLine():
            ThreePointArc((37.938396612, 12.675885078), (39.481235191, 6.421220115), (40, 0))
            Line((40, 0), (40, 21.388284323))
            Line((40, 21.388284323), (37.938396612, 12.675885078))
        make_face()
    # profile 39 of 61: a face of its own
    with BuildSketch(Plane(origin=(0, 0, 0), x_dir=(1, 0, 0), z_dir=(0, 1, 0))):
        with BuildLine():
            Line((35, 19.364916731), (35, 0.258130737))
            Line((35, 0.258130737), (37.938396612, 12.675885078))
            ThreePointArc((37.938396612, 12.675885078), (36.622236567, 16.087628439), (35, 19.364916731))
        make_face()
    # profile 40 of 61: a face of its own
    with BuildSketch(Plane(origin=(0, 0, 0), x_dir=(1, 0, 0), z_dir=(0, 1, 0))):
        with BuildLine():
            Line((35, 0.258130737), (35, -0.258130737))
            Line((35, -0.258130737), (37.938396612, -12.675885078))
            ThreePointArc((37.938396612, -12.675885078), (39.481235191, -6.421220115), (40, 0))
            ThreePointArc((40, 0), (39.481235191, 6.421220115), (37.938396612, 12.675885078))
            Line((37.938396612, 12.675885078), (35, 0.258130737))
        make_face()
    # profile 41 of 61: a face of its own
    with BuildSketch(Plane(origin=(0, 0, 0), x_dir=(1, 0, 0), z_dir=(0, 1, 0))):
        with BuildLine():
            ThreePointArc((40, 0), (39.481235191, -6.421220115), (37.938396612, -12.675885078))
            Line((37.938396612, -12.675885078), (40, -21.388284323))
            Line((40, -21.388284323), (40, 0))
        make_face()
    # profile 42 of 61: a face of its own
    with BuildSketch(Plane(origin=(0, 0, 0), x_dir=(1, 0, 0), z_dir=(0, 1, 0))):
        with BuildLine():
            Line((35, -0.258130737), (35, -19.364916731))
            ThreePointArc((35, -19.364916731), (36.622236567, -16.087628439), (37.938396612, -12.675885078))
            Line((37.938396612, -12.675885078), (35, -0.258130737))
        make_face()
    # profile 43 of 61: a face of its own
    with BuildSketch(Plane(origin=(0, 0, 0), x_dir=(1, 0, 0), z_dir=(0, 1, 0))):
        with BuildLine():
            ThreePointArc((34, 0), (33.77080571, -3.941152333), (33.08631284, -7.829169983))
            Line((33.08631284, -7.829169983), (34.938918869, 0))
            Line((34.938918869, 0), (33.08631284, 7.829169983))
            ThreePointArc((33.08631284, 7.829169983), (33.77080571, 3.941152333), (34, 0))
        make_face()
    # profile 44 of 61: a face of its own
    with BuildSketch(Plane(origin=(0, 0, 0), x_dir=(1, 0, 0), z_dir=(0, 1, 0))):
        with BuildLine():
            Line((0, -34.938918869), (0.258130737, -35))
            Line((0.258130737, -35), (19.364916731, -35))
            ThreePointArc((19.364916731, -35), (28.284271247, -28.284271247), (35, -19.364916731))
            Line((35, -19.364916731), (35, -0.258130737))
            Line((35, -0.258130737), (34.938918869, 0))
            Line((34.938918869, 0), (33.08631284, -7.829169983))
            ThreePointArc((33.08631284, -7.829169983), (24.04163056, -24.04163056), (7.829169983, -33.08631284))
            Line((7.829169983, -33.08631284), (0, -34.938918869))
        make_face()
    # profile 45 of 61: a face of its own
    with BuildSketch(Plane(origin=(0, 0, 0), x_dir=(1, 0, 0), z_dir=(0, 1, 0))):
        with BuildLine():
            ThreePointArc((37.938396612, -12.675885078), (36.622236567, -16.087628439), (35, -19.364916731))
            Line((35, -19.364916731), (35, -27))
            ThreePointArc((35, -27), (37.649529771, -27.451490744), (40, -28.755002002))
            Line((40, -28.755002002), (40, -21.388284323))
            Line((40, -21.388284323), (37.938396612, -12.675885078))
        make_face()
    # profile 46 of 61: a face of its own
    with BuildSketch(Plane(origin=(0, 0, 0), x_dir=(1, 0, 0), z_dir=(0, 1, 0))):
        with BuildLine():
            Line((40, -21.388284323), (40, -28.755002002))
            ThreePointArc((40, -28.755002002), (41.760946795, -30.723365993), (42.785014786, -33.157842357))
            Line((42.785014786, -33.157842357), (40, -21.388284323))
        make_face()
    # profile 47 of 61: a face of its own
    with BuildSketch(Plane(origin=(0, 0, 0), x_dir=(1, 0, 0), z_dir=(0, 1, 0))):
        with BuildLine():
            ThreePointArc((35, -19.364916731), (28.284271247, -28.284271247), (19.364916731, -35))
            Line((19.364916731, -35), (27, -35))
            ThreePointArc((27, -35), (29.343145751, -29.343145751), (35, -27))
            Line((35, -27), (35, -19.364916731))
        make_face()
    # profile 48 of 61: a face of its own
    with BuildSketch(Plane(origin=(0, 0, 0), x_dir=(1, 0, 0), z_dir=(0, 1, 0))):
        with BuildLine():
            Line((31.75, -35), (27, -35))
            ThreePointArc((27, -35), (27.451490744, -37.649529771), (28.755002002, -40))
            Line((28.755002002, -40), (40, -40))
            Line((40, -40), (40, -28.755002002))
            ThreePointArc((40, -28.755002002), (37.649529771, -27.451490744), (35, -27))
            Line((35, -27), (35, -31.75))
            ThreePointArc((35, -31.75), (37.298097039, -32.701902961), (38.25, -35))
            ThreePointArc((38.25, -35), (35, -38.25), (31.75, -35))
        make_face()
    # profile 49 of 61: a face of its own
    with BuildSketch(Plane(origin=(0, 0, 0), x_dir=(1, 0, 0), z_dir=(0, 1, 0))):
        with BuildLine():
            ThreePointArc((35, -27), (29.343145751, -29.343145751), (27, -35))
            Line((27, -35), (31.75, -35))
            ThreePointArc((31.75, -35), (32.701902961, -32.701902961), (35, -31.75))
            Line((35, -31.75), (35, -27))
        make_face()
    # profile 50 of 61: a face of its own
    with BuildSketch(Plane(origin=(0, 0, 0), x_dir=(1, 0, 0), z_dir=(0, 1, 0))):
        with BuildLine():
            ThreePointArc((28.755002002, -40), (30.723365993, -41.760946795), (33.157842357, -42.785014786))
            ThreePointArc((33.157842357, -42.785014786), (39.963000043, -41.27444265), (43, -35))
            ThreePointArc((43, -35), (42.946071932, -34.072670039), (42.785014786, -33.157842357))
            ThreePointArc((42.785014786, -33.157842357), (41.760946795, -30.723365993), (40, -28.755002002))
            Line((40, -28.755002002), (40, -40))
            Line((40, -40), (28.755002002, -40))
        make_face()
    # profile 51 of 61: a face of its own
    with BuildSketch(Plane(origin=(0, 0, 0), x_dir=(1, 0, 0), z_dir=(0, 1, 0))):
        with BuildLine():
            Line((28.755002002, -40), (21.388284323, -40))
            Line((21.388284323, -40), (33.157842357, -42.785014786))
            ThreePointArc((33.157842357, -42.785014786), (30.723365993, -41.760946795), (28.755002002, -40))
        make_face()
    # profile 52 of 61: a face of its own
    with BuildSketch(Plane(origin=(0, 0, 0), x_dir=(1, 0, 0), z_dir=(0, 1, 0))):
        with BuildLine():
            Line((27, -35), (19.364916731, -35))
            ThreePointArc((19.364916731, -35), (16.087628439, -36.622236567), (12.675885078, -37.938396612))
            Line((12.675885078, -37.938396612), (21.388284323, -40))
            Line((21.388284323, -40), (28.755002002, -40))
            ThreePointArc((28.755002002, -40), (27.451490744, -37.649529771), (27, -35))
        make_face()
    # profile 53 of 61: a face of its own
    with BuildSketch(Plane(origin=(0, 0, 0), x_dir=(1, 0, 0), z_dir=(0, 1, 0))):
        with BuildLine():
            Line((19.364916731, -35), (0.258130737, -35))
            Line((0.258130737, -35), (12.675885078, -37.938396612))
            ThreePointArc((12.675885078, -37.938396612), (16.087628439, -36.622236567), (19.364916731, -35))
        make_face()
    # profile 54 of 61: a face of its own
    with BuildSketch(Plane(origin=(0, 0, 0), x_dir=(1, 0, 0), z_dir=(0, 1, 0))):
        with BuildLine():
            ThreePointArc((12.675885078, -37.938396612), (6.421220115, -39.481235191), (0, -40))
            Line((0, -40), (21.388284323, -40))
            Line((21.388284323, -40), (12.675885078, -37.938396612))
        make_face()
    # profile 55 of 61: a face of its own
    with BuildSketch(Plane(origin=(0, 0, 0), x_dir=(1, 0, 0), z_dir=(0, 1, 0))):
        with BuildLine():
            Line((0.258130737, -35), (-0.258130737, -35))
            Line((-0.258130737, -35), (-12.675885078, -37.938396612))
            ThreePointArc((-12.675885078, -37.938396612), (-6.421220115, -39.481235191), (0, -40))
            ThreePointArc((0, -40), (6.421220115, -39.481235191), (12.675885078, -37.938396612))
            Line((12.675885078, -37.938396612), (0.258130737, -35))
        make_face()
    # profile 56 of 61: a face of its own
    with BuildSketch(Plane(origin=(0, 0, 0), x_dir=(1, 0, 0), z_dir=(0, 1, 0))):
        with BuildLine():
            Line((-7.829169983, -33.08631284), (0, -34.938918869))
            Line((0, -34.938918869), (7.829169983, -33.08631284))
            ThreePointArc((7.829169983, -33.08631284), (0, -34), (-7.829169983, -33.08631284))
        make_face()
    # profile 57 of 61: a face of its own
    with BuildSketch(Plane(origin=(0, 0, 0), x_dir=(1, 0, 0), z_dir=(0, 1, 0))):
        with BuildLine():
            Line((-0.258130737, -35), (-19.364916731, -35))
            ThreePointArc((-19.364916731, -35), (-16.087628439, -36.622236567), (-12.675885078, -37.938396612))
            Line((-12.675885078, -37.938396612), (-0.258130737, -35))
        make_face()
    # profile 58 of 61: a face of its own
    with BuildSketch(Plane(origin=(0, 0, 0), x_dir=(1, 0, 0), z_dir=(0, 1, 0))):
        with BuildLine():
            ThreePointArc((0, -40), (-6.421220115, -39.481235191), (-12.675885078, -37.938396612))
            Line((-12.675885078, -37.938396612), (-21.388284323, -40))
            Line((-21.388284323, -40), (0, -40))
        make_face()
    # profile 59 of 61: a face of its own
    with BuildSketch(Plane(origin=(0, 0, 0), x_dir=(1, 0, 0), z_dir=(0, 1, 0))):
        with BuildLine():
            Line((-19.364916731, -35), (-27, -35))
            ThreePointArc((-27, -35), (-27.451490744, -37.649529771), (-28.755002002, -40))
            Line((-28.755002002, -40), (-21.388284323, -40))
            Line((-21.388284323, -40), (-12.675885078, -37.938396612))
            ThreePointArc((-12.675885078, -37.938396612), (-16.087628439, -36.622236567), (-19.364916731, -35))
        make_face()
    # profile 60 of 61: a face of its own
    with BuildSketch(Plane(origin=(0, 0, 0), x_dir=(1, 0, 0), z_dir=(0, 1, 0))):
        with BuildLine():
            Line((-21.388284323, -40), (-28.755002002, -40))
            ThreePointArc((-28.755002002, -40), (-30.723365993, -41.760946795), (-33.157842357, -42.785014786))
            Line((-33.157842357, -42.785014786), (-21.388284323, -40))
        make_face()
    # profile 61 of 61: a face of its own
    with BuildSketch(Plane(origin=(0, 0, 0), x_dir=(1, 0, 0), z_dir=(0, 1, 0))):
        Circle(SKETCH1_R)
        with Locations(Location((0, 0, 0), (0, 0, 270))):
            Circle(SKETCH1_R_2, mode=Mode.SUBTRACT)
    extrude(amount=BOSS_EXTRUDE1_DEPTH)

    # Sketch2 → Cut-Extrude1 (cut)
    with BuildSketch(Plane(origin=(0, 19.5, 0), x_dir=(1, 0, 0), z_dir=(0, 1, 0))):
        with Locations(Location((0, 0, 0), (0, 0, 270))):
            Circle(SKETCH2_R)
    extrude(amount=-CUT_EXTRUDE1_DEPTH, mode=Mode.SUBTRACT)

    # Sketch3 → Cut-Extrude2 (cut)
    with BuildSketch(Plane.XZ):
        with Locations(Location((-35, 35, 0), (0, 0, 270))):
            Circle(SKETCH3_R)
        with Locations(Location((35, 35, 0), (0, 0, 270))):
            Circle(SKETCH3_R)
        with Locations(Location((35, -35, 0), (0, 0, 270))):
            Circle(SKETCH3_R)
        with Locations(Location((-35, -35, 0), (0, 0, 270))):
            Circle(SKETCH3_R)
    extrude(amount=-CUT_EXTRUDE2_DEPTH, mode=Mode.SUBTRACT)

    # Cut-Extrude3: up to this face of the body (flat: up to its plane)
    cut_extrude3_end = Plane(part.part.faces().sort_by_distance((0, 9.75, -40))[0])
    # Sketch4 → Cut-Extrude3 (cut, up to the picked face)
    with BuildSketch(Plane.XY.offset(40), mode=Mode.PRIVATE) as cut_extrude3_sk1:
        with Locations((0, 9.75)):
            Circle(SKETCH4_R)
    cut_extrude3_tool1 = split(extrude(cut_extrude3_sk1.sketch, amount=-CUT_EXTRUDE3_REACH, mode=Mode.PRIVATE), bisect_by=cut_extrude3_end, keep=Keep.BOTH, mode=Mode.PRIVATE)
    add(cut_extrude3_tool1.solids().sort_by(Axis((0, 9.75, 40), (0, 0, -1)))[0], mode=Mode.SUBTRACT)

    # Cut-Extrude4: up to this face of the body (flat: up to its plane)
    cut_extrude4_end = Plane(part.part.faces().sort_by_distance((-40, 9.75, 0))[0])
    # Sketch5 → Cut-Extrude4 (cut, up to the picked face)
    with BuildSketch(Plane(origin=(40, 0, 0), x_dir=(0, 0, -1), z_dir=(1, 0, 0)), mode=Mode.PRIVATE) as cut_extrude4_sk1:
        with Locations((0, 9.75)):
            Circle(SKETCH5_R)
    cut_extrude4_tool1 = split(extrude(cut_extrude4_sk1.sketch, amount=-CUT_EXTRUDE4_REACH, mode=Mode.PRIVATE), bisect_by=cut_extrude4_end, keep=Keep.BOTH, mode=Mode.PRIVATE)
    add(cut_extrude4_tool1.solids().sort_by(Axis((40, 9.75, 0), (-1, 0, 0)))[0], mode=Mode.SUBTRACT)


solid = part.part
